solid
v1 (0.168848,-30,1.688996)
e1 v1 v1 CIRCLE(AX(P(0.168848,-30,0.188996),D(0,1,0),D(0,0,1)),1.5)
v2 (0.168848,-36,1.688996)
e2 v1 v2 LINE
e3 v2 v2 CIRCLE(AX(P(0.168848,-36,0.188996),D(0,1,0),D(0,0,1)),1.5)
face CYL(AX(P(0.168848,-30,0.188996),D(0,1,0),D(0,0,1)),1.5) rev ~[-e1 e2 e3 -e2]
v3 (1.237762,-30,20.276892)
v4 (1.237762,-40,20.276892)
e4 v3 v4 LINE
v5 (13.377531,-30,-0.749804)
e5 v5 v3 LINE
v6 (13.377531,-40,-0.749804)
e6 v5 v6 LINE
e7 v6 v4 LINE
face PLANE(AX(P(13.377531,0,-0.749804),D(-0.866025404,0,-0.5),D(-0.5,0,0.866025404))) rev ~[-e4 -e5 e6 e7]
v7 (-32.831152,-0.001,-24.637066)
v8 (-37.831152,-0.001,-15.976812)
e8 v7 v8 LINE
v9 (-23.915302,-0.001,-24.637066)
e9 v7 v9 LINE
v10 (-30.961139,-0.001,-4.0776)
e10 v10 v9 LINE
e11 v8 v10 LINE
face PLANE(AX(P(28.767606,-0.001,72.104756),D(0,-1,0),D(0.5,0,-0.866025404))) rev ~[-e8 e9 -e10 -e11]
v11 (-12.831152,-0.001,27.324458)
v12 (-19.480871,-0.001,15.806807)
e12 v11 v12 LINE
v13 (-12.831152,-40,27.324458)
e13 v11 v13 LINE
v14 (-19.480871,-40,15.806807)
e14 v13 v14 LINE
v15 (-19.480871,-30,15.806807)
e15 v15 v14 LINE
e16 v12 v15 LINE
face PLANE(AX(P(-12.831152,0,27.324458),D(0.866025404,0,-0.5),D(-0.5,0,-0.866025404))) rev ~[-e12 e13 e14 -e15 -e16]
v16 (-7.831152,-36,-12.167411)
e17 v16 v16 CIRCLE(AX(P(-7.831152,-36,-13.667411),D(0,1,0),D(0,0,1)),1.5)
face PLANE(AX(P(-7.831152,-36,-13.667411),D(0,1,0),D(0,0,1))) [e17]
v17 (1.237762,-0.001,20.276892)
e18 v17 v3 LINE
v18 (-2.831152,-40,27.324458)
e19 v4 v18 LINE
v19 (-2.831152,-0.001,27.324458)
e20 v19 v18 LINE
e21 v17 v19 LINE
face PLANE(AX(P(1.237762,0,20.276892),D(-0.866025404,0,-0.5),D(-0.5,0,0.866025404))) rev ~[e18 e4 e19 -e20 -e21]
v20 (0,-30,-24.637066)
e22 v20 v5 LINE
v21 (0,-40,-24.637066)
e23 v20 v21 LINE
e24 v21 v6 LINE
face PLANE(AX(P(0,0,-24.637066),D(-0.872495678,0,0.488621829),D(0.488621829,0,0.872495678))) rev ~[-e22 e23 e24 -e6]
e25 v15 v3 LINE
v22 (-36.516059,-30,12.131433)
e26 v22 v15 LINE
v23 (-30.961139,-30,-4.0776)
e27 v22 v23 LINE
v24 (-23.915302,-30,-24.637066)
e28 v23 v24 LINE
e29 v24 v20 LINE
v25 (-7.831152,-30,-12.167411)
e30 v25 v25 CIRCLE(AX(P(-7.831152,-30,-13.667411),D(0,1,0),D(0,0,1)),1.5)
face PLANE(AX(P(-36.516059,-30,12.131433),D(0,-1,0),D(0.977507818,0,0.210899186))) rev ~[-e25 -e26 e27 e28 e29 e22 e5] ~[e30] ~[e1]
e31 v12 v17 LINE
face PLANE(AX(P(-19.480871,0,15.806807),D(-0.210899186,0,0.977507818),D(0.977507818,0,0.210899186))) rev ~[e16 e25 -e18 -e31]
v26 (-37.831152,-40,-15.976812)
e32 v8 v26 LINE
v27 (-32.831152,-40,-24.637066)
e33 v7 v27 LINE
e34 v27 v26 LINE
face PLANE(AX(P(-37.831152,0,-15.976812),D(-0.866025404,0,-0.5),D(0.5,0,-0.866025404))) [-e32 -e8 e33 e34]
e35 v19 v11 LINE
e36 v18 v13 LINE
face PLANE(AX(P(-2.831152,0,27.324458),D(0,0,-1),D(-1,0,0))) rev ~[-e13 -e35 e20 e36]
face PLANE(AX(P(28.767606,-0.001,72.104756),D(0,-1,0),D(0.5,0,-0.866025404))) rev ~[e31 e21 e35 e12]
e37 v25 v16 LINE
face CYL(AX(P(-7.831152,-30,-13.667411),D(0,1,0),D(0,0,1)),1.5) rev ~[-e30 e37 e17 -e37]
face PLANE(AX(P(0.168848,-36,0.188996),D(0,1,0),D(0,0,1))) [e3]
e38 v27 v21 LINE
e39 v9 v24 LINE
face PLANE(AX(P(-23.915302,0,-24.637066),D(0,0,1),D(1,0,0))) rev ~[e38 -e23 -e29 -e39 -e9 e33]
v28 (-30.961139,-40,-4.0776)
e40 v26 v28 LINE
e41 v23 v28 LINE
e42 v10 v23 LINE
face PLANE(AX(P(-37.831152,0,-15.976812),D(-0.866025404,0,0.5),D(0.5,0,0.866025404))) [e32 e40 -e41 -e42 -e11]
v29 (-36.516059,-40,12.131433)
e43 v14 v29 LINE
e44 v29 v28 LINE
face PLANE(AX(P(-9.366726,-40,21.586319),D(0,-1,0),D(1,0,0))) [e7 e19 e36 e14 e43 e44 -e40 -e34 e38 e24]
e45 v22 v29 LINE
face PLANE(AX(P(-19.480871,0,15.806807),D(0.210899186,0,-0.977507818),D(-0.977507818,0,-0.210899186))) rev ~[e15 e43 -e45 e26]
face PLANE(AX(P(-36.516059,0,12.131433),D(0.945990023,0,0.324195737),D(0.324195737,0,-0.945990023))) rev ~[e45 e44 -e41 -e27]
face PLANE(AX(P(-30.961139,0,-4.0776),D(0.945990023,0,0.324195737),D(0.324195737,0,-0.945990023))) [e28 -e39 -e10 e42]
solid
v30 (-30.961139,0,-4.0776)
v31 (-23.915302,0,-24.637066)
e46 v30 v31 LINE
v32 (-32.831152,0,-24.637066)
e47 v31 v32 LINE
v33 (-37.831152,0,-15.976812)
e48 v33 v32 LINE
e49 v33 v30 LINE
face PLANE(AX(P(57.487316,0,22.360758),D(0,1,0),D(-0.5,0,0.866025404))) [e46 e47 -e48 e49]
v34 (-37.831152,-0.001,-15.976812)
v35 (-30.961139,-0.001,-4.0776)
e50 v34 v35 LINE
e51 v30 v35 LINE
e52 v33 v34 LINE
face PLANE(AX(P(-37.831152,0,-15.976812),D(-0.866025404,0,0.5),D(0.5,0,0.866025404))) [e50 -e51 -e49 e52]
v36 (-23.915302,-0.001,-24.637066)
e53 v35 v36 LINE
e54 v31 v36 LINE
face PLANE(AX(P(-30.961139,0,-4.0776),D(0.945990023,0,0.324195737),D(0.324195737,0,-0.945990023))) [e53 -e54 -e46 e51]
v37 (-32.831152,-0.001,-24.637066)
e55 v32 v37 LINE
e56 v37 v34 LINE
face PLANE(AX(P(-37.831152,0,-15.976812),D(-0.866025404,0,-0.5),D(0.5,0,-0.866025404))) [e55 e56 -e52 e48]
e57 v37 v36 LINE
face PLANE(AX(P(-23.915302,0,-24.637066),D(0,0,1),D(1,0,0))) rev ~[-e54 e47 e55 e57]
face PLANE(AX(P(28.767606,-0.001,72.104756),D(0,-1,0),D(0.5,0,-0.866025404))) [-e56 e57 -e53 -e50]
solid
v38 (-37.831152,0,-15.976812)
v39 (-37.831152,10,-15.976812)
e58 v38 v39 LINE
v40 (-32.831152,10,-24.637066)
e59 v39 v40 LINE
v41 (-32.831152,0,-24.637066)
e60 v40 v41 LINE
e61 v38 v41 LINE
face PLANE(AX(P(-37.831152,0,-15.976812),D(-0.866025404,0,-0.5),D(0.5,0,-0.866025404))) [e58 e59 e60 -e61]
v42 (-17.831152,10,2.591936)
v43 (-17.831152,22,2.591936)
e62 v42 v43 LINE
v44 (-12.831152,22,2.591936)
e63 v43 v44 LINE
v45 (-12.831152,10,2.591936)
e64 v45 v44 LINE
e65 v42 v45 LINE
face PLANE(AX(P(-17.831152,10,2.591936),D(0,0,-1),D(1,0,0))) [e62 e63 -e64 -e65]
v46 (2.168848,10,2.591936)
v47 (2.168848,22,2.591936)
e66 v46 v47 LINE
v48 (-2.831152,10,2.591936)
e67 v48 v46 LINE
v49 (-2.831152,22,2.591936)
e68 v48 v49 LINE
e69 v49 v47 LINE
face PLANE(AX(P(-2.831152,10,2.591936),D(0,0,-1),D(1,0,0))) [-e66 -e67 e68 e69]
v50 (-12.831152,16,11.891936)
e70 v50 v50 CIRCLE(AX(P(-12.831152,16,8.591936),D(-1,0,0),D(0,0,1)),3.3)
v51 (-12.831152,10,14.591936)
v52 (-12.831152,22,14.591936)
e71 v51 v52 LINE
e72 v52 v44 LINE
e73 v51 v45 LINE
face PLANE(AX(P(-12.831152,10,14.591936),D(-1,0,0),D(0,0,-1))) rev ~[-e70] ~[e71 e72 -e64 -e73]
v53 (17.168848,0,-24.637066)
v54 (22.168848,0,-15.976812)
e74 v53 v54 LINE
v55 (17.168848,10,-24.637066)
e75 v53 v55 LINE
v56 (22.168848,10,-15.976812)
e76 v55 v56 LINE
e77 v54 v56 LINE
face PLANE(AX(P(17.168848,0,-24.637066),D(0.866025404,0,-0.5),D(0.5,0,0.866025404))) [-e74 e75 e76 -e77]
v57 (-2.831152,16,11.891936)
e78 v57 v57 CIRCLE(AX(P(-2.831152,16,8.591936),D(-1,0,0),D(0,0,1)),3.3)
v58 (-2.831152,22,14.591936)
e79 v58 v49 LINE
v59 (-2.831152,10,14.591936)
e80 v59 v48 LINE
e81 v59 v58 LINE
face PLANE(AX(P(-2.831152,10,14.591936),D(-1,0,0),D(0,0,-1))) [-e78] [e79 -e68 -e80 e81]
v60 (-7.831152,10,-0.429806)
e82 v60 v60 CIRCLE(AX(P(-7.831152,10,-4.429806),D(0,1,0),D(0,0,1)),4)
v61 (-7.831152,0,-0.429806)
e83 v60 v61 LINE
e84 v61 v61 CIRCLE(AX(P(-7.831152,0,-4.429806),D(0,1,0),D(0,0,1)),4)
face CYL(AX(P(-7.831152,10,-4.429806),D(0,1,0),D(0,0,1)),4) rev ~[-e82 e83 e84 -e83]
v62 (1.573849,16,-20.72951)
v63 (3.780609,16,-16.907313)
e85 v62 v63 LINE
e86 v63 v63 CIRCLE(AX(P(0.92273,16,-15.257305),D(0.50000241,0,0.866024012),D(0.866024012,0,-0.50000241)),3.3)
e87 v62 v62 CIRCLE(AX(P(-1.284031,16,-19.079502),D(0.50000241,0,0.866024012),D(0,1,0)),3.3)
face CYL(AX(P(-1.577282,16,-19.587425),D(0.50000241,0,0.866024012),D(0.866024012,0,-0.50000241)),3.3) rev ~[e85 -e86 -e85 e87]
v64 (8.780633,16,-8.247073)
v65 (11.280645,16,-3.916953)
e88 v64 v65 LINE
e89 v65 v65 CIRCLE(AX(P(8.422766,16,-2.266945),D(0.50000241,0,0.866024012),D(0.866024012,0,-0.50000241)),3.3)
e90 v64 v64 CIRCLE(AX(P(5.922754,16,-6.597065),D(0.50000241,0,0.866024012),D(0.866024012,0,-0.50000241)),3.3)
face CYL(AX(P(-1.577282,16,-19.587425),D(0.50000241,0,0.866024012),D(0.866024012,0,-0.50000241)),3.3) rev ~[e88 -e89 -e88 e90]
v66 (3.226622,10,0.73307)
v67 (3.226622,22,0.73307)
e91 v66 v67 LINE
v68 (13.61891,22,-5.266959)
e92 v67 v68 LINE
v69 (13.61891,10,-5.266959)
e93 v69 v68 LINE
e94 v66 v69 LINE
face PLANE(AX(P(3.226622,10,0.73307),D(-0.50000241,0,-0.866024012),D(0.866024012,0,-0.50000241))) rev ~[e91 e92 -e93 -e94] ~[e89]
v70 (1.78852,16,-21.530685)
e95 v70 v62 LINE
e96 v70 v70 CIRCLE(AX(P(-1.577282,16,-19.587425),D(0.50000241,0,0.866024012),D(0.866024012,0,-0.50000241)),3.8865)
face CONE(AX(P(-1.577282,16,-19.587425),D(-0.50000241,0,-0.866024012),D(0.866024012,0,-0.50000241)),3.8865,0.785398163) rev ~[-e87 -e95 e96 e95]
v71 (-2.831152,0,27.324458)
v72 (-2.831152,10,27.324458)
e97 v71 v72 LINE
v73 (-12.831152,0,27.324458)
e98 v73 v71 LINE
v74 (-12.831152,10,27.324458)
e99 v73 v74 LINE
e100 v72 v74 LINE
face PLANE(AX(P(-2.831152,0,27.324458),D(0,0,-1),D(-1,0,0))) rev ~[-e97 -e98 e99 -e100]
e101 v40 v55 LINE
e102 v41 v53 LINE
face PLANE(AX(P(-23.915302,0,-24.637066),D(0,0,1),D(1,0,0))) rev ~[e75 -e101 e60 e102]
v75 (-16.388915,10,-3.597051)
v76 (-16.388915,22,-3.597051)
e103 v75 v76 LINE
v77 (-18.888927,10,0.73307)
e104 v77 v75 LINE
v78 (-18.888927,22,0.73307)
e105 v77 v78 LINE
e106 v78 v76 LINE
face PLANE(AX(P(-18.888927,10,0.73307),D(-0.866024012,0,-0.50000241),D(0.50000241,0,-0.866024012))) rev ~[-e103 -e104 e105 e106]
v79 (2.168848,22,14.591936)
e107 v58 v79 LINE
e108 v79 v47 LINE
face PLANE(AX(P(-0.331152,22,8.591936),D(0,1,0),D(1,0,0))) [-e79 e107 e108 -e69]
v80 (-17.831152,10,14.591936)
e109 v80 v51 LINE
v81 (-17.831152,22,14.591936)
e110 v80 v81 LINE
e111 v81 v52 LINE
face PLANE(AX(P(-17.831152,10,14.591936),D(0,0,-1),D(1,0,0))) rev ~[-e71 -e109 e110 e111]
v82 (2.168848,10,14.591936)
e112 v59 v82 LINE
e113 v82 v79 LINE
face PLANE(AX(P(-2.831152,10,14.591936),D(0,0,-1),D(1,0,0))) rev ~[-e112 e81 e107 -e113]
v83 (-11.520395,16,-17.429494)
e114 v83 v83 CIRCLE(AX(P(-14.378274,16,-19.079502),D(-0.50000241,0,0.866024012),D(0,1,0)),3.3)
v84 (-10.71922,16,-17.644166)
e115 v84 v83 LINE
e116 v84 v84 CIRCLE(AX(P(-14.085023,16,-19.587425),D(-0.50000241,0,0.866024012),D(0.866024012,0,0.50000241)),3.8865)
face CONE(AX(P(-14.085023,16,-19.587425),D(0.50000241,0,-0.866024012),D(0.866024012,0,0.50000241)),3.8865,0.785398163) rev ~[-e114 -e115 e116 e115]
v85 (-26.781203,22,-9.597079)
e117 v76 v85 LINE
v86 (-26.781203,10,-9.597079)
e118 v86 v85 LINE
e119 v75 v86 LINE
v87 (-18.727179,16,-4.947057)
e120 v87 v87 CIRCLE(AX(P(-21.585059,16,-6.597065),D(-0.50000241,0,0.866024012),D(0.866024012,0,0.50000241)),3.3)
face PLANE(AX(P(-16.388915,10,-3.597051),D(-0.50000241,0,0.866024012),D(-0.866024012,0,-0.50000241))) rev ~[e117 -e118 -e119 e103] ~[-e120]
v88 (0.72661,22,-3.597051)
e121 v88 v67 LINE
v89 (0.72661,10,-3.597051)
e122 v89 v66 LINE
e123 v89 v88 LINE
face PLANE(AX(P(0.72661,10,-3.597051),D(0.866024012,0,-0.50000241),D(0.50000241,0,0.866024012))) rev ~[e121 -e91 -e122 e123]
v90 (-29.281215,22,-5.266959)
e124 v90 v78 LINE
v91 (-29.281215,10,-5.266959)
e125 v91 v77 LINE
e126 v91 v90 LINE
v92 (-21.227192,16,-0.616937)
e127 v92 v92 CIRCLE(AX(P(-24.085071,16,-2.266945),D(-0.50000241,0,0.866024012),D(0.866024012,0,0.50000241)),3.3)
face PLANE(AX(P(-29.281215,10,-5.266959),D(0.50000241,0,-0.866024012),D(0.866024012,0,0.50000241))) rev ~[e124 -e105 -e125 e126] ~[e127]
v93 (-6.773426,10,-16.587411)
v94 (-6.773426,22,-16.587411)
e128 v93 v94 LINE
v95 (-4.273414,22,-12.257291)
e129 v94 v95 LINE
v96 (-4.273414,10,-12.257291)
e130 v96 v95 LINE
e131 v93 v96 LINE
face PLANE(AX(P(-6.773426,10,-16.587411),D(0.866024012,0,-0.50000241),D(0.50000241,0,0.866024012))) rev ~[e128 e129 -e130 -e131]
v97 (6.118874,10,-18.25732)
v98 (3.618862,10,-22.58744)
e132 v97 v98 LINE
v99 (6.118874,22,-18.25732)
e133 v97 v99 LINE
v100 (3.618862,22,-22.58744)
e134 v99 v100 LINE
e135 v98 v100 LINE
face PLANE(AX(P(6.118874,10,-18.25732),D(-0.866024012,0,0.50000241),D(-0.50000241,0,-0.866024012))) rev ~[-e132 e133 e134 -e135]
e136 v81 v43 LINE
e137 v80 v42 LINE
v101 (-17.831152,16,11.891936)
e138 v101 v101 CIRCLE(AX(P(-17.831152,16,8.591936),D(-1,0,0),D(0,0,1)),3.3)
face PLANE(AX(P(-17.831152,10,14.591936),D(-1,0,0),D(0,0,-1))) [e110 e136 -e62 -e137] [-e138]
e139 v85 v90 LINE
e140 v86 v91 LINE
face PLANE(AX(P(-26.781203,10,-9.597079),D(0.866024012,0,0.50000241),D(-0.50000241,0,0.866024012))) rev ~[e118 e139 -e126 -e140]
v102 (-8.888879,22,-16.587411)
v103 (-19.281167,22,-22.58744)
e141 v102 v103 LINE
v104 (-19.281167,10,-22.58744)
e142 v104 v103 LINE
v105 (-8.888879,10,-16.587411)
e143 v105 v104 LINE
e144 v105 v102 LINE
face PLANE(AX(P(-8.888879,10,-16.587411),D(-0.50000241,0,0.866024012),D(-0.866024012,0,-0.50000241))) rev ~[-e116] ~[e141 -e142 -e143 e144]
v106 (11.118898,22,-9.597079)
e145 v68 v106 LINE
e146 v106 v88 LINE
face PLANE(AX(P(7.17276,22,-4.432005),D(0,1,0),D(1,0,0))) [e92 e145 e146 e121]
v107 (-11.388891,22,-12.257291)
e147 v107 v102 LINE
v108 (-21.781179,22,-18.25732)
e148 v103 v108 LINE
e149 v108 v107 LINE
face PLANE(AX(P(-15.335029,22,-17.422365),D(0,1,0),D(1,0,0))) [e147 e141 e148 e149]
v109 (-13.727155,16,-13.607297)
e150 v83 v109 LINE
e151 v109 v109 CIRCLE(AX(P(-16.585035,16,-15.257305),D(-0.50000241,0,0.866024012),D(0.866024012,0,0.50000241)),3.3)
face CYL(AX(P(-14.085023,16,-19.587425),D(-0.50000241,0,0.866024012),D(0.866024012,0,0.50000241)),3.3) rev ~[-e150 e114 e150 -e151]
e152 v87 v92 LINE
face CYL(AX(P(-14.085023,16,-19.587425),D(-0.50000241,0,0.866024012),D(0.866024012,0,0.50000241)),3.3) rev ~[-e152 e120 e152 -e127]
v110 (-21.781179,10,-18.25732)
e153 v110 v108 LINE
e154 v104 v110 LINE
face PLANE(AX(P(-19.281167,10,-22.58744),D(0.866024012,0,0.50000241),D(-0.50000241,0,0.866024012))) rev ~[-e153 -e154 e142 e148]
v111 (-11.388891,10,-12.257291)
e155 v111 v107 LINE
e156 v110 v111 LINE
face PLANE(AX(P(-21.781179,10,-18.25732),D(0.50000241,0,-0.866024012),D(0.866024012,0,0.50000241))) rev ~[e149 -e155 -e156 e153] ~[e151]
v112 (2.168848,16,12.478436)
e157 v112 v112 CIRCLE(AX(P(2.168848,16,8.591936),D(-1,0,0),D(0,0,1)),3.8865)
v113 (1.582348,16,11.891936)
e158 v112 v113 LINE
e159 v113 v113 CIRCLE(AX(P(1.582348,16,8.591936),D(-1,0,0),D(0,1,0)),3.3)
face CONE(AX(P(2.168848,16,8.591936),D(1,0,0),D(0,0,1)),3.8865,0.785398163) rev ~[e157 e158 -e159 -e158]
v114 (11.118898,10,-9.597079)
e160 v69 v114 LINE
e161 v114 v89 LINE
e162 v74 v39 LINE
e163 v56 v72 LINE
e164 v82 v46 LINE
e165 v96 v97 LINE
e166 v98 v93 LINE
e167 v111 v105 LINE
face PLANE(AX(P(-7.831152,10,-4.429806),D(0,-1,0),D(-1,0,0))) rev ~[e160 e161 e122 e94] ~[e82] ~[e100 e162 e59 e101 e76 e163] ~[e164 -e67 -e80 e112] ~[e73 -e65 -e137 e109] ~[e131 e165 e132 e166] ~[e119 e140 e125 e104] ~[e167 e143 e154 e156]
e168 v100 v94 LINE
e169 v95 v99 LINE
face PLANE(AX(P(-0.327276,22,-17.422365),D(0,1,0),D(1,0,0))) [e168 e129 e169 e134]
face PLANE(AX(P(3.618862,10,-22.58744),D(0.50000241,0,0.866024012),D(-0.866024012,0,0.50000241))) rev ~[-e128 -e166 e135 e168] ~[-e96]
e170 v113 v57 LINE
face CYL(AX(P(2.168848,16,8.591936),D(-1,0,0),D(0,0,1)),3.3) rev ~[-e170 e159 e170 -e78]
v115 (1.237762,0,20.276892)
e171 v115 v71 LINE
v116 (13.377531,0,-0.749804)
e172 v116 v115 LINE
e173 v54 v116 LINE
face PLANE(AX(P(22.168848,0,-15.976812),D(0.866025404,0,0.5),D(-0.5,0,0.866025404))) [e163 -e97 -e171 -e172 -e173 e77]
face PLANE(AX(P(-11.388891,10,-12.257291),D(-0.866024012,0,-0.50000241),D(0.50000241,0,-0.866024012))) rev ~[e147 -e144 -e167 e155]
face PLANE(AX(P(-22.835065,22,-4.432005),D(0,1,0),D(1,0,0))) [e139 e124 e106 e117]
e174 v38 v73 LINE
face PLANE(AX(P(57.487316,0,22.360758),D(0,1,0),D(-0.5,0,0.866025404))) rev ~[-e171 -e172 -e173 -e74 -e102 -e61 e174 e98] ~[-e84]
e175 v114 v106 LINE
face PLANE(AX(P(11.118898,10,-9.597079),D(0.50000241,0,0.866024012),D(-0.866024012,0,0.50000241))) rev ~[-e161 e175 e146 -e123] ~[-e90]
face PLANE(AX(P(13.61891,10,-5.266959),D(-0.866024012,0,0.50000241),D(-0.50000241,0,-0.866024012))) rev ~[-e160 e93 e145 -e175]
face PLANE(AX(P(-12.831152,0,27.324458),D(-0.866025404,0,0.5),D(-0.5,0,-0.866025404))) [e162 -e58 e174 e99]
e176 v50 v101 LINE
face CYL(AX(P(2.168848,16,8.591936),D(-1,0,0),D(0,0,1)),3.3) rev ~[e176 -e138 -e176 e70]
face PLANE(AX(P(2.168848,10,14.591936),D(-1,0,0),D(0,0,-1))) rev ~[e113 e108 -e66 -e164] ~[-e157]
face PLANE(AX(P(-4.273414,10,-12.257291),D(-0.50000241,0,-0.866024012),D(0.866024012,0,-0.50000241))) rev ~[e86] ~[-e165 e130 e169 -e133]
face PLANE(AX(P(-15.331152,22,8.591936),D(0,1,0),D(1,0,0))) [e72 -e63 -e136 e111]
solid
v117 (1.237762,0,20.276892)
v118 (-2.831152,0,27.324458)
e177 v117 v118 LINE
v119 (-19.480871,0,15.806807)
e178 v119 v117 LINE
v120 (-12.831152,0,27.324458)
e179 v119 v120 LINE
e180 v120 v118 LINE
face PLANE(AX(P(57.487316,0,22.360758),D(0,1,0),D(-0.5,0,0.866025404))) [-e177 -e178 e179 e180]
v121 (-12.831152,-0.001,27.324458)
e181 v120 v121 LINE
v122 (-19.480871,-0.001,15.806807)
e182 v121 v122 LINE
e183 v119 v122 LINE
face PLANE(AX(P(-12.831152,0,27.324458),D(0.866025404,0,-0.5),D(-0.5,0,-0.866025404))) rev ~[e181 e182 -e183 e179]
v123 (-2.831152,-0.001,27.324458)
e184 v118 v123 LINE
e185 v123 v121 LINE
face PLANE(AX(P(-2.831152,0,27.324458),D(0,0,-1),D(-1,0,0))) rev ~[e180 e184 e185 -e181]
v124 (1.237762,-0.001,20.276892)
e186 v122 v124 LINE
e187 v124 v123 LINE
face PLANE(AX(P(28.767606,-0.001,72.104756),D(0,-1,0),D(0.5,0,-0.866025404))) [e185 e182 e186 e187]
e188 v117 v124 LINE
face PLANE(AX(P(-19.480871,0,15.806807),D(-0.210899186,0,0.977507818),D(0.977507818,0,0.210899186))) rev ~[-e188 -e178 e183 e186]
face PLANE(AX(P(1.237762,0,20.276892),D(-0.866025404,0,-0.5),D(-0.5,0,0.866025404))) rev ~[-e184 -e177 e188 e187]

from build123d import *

# Parameters (mm, degrees)
EXTRUDE_1_DEPTH                 = 10
SKETCH_2_W                      = 5
SKETCH_2_H                      = 12
EXTRUDE_4_DEPTH                 = 12
HOLE_WIZARD_G1_16_1_D           = 6.6
HOLE_WIZARD_G1_16_1_DEPTH       = 50
HOLE_WIZARD_G1_16_1_CSINK_D     = 7.773
HOLE_WIZARD_G1_16_1_CSINK_ANGLE = 90
HOLE_WIZARD_G1_16_1_TIP         = 1.982840043
HOLE_WIZARD_G1_16_2_D           = 6.6
HOLE_WIZARD_G1_16_2_DEPTH       = 50
HOLE_WIZARD_G1_16_2_CSINK_D     = 7.773
HOLE_WIZARD_G1_16_2_CSINK_ANGLE = 90
HOLE_WIZARD_G1_16_2_TIP         = 1.982840043
HOLE_WIZARD_G1_16_3_D           = 6.6
HOLE_WIZARD_G1_16_3_DEPTH       = 50
HOLE_WIZARD_G1_16_3_CSINK_D     = 7.773
HOLE_WIZARD_G1_16_3_CSINK_ANGLE = 90
HOLE_WIZARD_G1_16_3_TIP         = 1.982840043
EXTRUDE_5_DEPTH                 = 40
SKETCH_19_W                     = 50
SKETCH_19_H                     = 30
CUT_EXTRUDE_2_DEPTH             = 74
EXTRUDE_6_DEPTH                 = 40
SKETCH_23_R                     = 1.5
CUT_EXTRUDE_3_DEPTH             = 6
SKETCH_24_R                     = 4
CUT_EXTRUDE_4_DEPTH             = 14
SPLIT_BODIES_1_SURFACE_1_BACK   = 101.717
SPLIT_BODIES_1_SURFACE_1_DEPTH  = 203.434
SPLIT_BODIES_1_SURFACE_2_BACK   = 101.717
SPLIT_BODIES_1_SURFACE_2_DEPTH  = 203.434


with BuildPart() as part:
    # 草图1 → 凸台-拉伸1 (new body)
    with BuildSketch(Plane(origin=(0, 0, 0), x_dir=(1, 0, 0), z_dir=(0, 1, 0))):
        Polygon((-32.831152269, 24.637065757), (17.168847731, 24.637065757), (22.168847731, 15.976811719), (-2.831152269, -27.32445847), (-12.831152269, -27.32445847), (-37.831152269, 15.976811719), align=None)
    extrude(amount=EXTRUDE_1_DEPTH)

    # 草图2 → 凸台-拉伸4 (add)
    with BuildSketch(Plane(origin=(0, 10, 0), x_dir=(1, 0, 0), z_dir=(0, 1, 0))):
        Polygon((-18.888926711, -0.733069557), (-16.388914662, 3.597050504), (-26.78120281, 9.597079424), (-29.28121486, 5.266959362), align=None)
        Polygon((-11.388890562, 12.257290628), (-8.888878512, 16.58741069), (-19.28116666, 22.58743961), (-21.78117871, 18.257319548), align=None)
        Polygon((-4.273413977, 12.257290628), (6.118874171, 18.257319548), (3.618862121, 22.58743961), (-6.773426027, 16.58741069), align=None)
        Polygon((3.226622172, -0.733069557), (13.618910321, 5.266959362), (11.118898271, 9.597079424), (0.726610123, 3.597050504), align=None)
        with Locations((-0.331152269, -8.591935763)):
            Rectangle(SKETCH_2_W, SKETCH_2_H)
        with Locations((-15.331152269, -8.591935763)):
            Rectangle(SKETCH_2_W, SKETCH_2_H)
    extrude(amount=EXTRUDE_4_DEPTH)

    # G1/16 螺纹孔1
    with Locations(Plane(origin=(4.96034155, 0, -8.591508373), x_dir=(-0.8660240123793532, 0, -0.500002409976558), z_dir=(0.500002409976558, 0, -0.8660240123793532))):
        with Locations((21.991727555, 16)):
            CounterSinkHole(HOLE_WIZARD_G1_16_1_D / 2, HOLE_WIZARD_G1_16_1_CSINK_D / 2, depth=HOLE_WIZARD_G1_16_1_DEPTH, counter_sink_angle=HOLE_WIZARD_G1_16_1_CSINK_ANGLE)
            with Locations((0, 0, -(HOLE_WIZARD_G1_16_1_DEPTH + HOLE_WIZARD_G1_16_1_TIP / 2))):  # 118° drill point
                Cone(0, HOLE_WIZARD_G1_16_1_D / 2, HOLE_WIZARD_G1_16_1_TIP, mode=Mode.SUBTRACT)

    # G1/16 螺纹孔2
    with Locations(Plane(origin=(-8.875955431, 0, -15.373506972), x_dir=(-0.8660240123793504, 0, 0.5000024099765628), z_dir=(-0.5000024099765628, 0, -0.8660240123793506))):
        with Locations((-8.427795735, 16)):
            CounterSinkHole(HOLE_WIZARD_G1_16_2_D / 2, HOLE_WIZARD_G1_16_2_CSINK_D / 2, depth=HOLE_WIZARD_G1_16_2_DEPTH, counter_sink_angle=HOLE_WIZARD_G1_16_2_CSINK_ANGLE)
            with Locations((0, 0, -(HOLE_WIZARD_G1_16_2_DEPTH + HOLE_WIZARD_G1_16_2_TIP / 2))):  # 118° drill point
                Cone(0, HOLE_WIZARD_G1_16_2_D / 2, HOLE_WIZARD_G1_16_2_TIP, mode=Mode.SUBTRACT)

    # G1/16 螺纹孔3
    with Locations(Plane(origin=(2.168847731, 0, 0), x_dir=(0, 0, -1), z_dir=(1, 0, 0))):
        with Locations((-8.591935763, 16)):
            CounterSinkHole(HOLE_WIZARD_G1_16_3_D / 2, HOLE_WIZARD_G1_16_3_CSINK_D / 2, depth=HOLE_WIZARD_G1_16_3_DEPTH, counter_sink_angle=HOLE_WIZARD_G1_16_3_CSINK_ANGLE)
            with Locations((0, 0, -(HOLE_WIZARD_G1_16_3_DEPTH + HOLE_WIZARD_G1_16_3_TIP / 2))):  # 118° drill point
                Cone(0, HOLE_WIZARD_G1_16_3_D / 2, HOLE_WIZARD_G1_16_3_TIP, mode=Mode.SUBTRACT)

    # 草图18 → 凸台-拉伸5 (add)
    with BuildSketch(Plane(origin=(0, 0, 0), x_dir=(-1, 0, 0), z_dir=(0, -1, 0))):
        Polygon((36.516059441, -12.131432542), (30.961139109, 4.077599876), (19.480871434, -15.806807021), align=None)
        Polygon((30.961139109, 4.077599876), (23.915302437, 24.637065757), (-1.237762159, -20.276891949), (19.480871434, -15.806807021), align=None)
        Polygon((23.915302437, 24.637065757), (0, 24.637065757), (-13.377530598, 0.749803781), (-1.237762159, -20.276891949), align=None)
    extrude(amount=EXTRUDE_5_DEPTH)

    # 草图19 → 切除-拉伸2 (cut)
    with BuildSketch(Plane(origin=(-4.125141126, 0, 19.119835281), x_dir=(0.9775078175150543, 0, 0.21089918609837094), z_dir=(-0.21089918609837097, 0, 0.9775078175150544))):
        with Locations((-8.136224319, -15)):
            Rectangle(SKETCH_19_W, SKETCH_19_H)
    extrude(amount=-CUT_EXTRUDE_2_DEPTH, mode=Mode.SUBTRACT)


with BuildPart() as cut_extrude_2_piece_1:
    # of the separate pieces the step leaves, piece 1, a body of its own (cut_extrude_2_pieces)
    add(part.part.solids().sort_by_distance((17.168847731, 0, -24.637065757))[0])



with BuildPart() as cut_extrude_2_piece_2:
    # of the separate pieces the step leaves, piece 2, a body of its own (cut_extrude_2_pieces)
    add(part.part.solids().sort_by_distance((-23.915302437, -30, -24.637065757))[0])


with BuildPart() as cut_extrude_2_piece_1_1:
    add(cut_extrude_2_piece_1.part)

    add(cut_extrude_2_piece_2.part)  # 凸台-拉伸6 merges 切除-拉伸2 piece 2
    # 草图20 → 凸台-拉伸6 (add)
    with BuildSketch(Plane.XZ):
        Polygon((-12.831152269, 27.32445847), (-19.480871434, 15.806807021), (1.237762159, 20.276891949), (-2.831152269, 27.32445847), align=None)
        Polygon((-37.831152269, -15.976811719), (-30.961139109, -4.077599876), (-23.915302437, -24.637065757), (-32.831152269, -24.637065757), align=None)
    extrude(amount=EXTRUDE_6_DEPTH)

    # 草图23 → 切除-拉伸3 (cut)
    with BuildSketch(Plane(origin=(0, -30, 0), x_dir=(1, 0, 0), z_dir=(0, 1, 0))):
        with Locations(Location((0.168847731, -0.188995818, 0), (0, 0, 270))):
            Circle(SKETCH_23_R)
        with Locations(Location((-7.831152269, 13.667410642, 0), (0, 0, 270))):
            Circle(SKETCH_23_R)
    extrude(amount=-CUT_EXTRUDE_3_DEPTH, mode=Mode.SUBTRACT)

    # 草图24 → 切除-拉伸4 (cut)
    with BuildSketch(Plane(origin=(0, 10, 0), x_dir=(1, 0, 0), z_dir=(0, 1, 0))):
        with Locations(Location((-7.831152269, 4.429806335, 0), (0, 0, 270))):
            Circle(SKETCH_24_R)
    extrude(amount=-CUT_EXTRUDE_4_DEPTH, mode=Mode.SUBTRACT)


with BuildPart() as body_2:
    # Split Bodies 1: the piece behind the surface
    add(cut_extrude_2_piece_1_1.part)
    # Split Bodies 1 surface: a surface, the sketch's curves swept straight by 203.434 mm
    with BuildLine(Plane(origin=(-35.291526612, 0, -20.37557239), x_dir=(-0.4999999999999961, 0, 0.866025403784441), z_dir=(-0.866025403784441, 0, -0.4999999999999961)).offset(-SPLIT_BODIES_1_SURFACE_1_BACK), mode=Mode.PRIVATE) as split_bodies_1_surface_1_path:
        Line((-9.378673602, 0), (48.060747663, 0))
        Line((48.060747663, 0), (48.060747663, -0.001))
        Line((48.060747663, -0.001), (-9.378673602, -0.001))
        Line((-9.378673602, -0.001), (-9.378673602, 0))
    split_bodies_1_surface_1 = Shell.extrude(split_bodies_1_surface_1_path.wire(), (-0.866025404 * SPLIT_BODIES_1_SURFACE_1_DEPTH, 0 * SPLIT_BODIES_1_SURFACE_1_DEPTH, -0.5 * SPLIT_BODIES_1_SURFACE_1_DEPTH))
    split(bisect_by=split_bodies_1_surface_1, keep=Keep.BOTTOM)


with BuildPart() as cut_extrude_2_piece_1_2:
    add(cut_extrude_2_piece_1_1.part)

    # Split Bodies 1: split by a surface, the side it looks to stays
    # Split Bodies 1 surface: a surface, the sketch's curves swept straight by 203.434 mm
    with BuildLine(Plane(origin=(-35.291526612, 0, -20.37557239), x_dir=(-0.4999999999999961, 0, 0.866025403784441), z_dir=(-0.866025403784441, 0, -0.4999999999999961)).offset(-SPLIT_BODIES_1_SURFACE_2_BACK), mode=Mode.PRIVATE) as split_bodies_1_surface_2_path:
        Line((-9.378673602, 0), (48.060747663, 0))
        Line((48.060747663, 0), (48.060747663, -0.001))
        Line((48.060747663, -0.001), (-9.378673602, -0.001))
        Line((-9.378673602, -0.001), (-9.378673602, 0))
    split_bodies_1_surface_2 = Shell.extrude(split_bodies_1_surface_2_path.wire(), (-0.866025404 * SPLIT_BODIES_1_SURFACE_2_DEPTH, 0 * SPLIT_BODIES_1_SURFACE_2_DEPTH, -0.5 * SPLIT_BODIES_1_SURFACE_2_DEPTH))
    split(bisect_by=split_bodies_1_surface_2, keep=Keep.TOP)


solid = Compound([body_2.part, cut_extrude_2_piece_1_2.part])
